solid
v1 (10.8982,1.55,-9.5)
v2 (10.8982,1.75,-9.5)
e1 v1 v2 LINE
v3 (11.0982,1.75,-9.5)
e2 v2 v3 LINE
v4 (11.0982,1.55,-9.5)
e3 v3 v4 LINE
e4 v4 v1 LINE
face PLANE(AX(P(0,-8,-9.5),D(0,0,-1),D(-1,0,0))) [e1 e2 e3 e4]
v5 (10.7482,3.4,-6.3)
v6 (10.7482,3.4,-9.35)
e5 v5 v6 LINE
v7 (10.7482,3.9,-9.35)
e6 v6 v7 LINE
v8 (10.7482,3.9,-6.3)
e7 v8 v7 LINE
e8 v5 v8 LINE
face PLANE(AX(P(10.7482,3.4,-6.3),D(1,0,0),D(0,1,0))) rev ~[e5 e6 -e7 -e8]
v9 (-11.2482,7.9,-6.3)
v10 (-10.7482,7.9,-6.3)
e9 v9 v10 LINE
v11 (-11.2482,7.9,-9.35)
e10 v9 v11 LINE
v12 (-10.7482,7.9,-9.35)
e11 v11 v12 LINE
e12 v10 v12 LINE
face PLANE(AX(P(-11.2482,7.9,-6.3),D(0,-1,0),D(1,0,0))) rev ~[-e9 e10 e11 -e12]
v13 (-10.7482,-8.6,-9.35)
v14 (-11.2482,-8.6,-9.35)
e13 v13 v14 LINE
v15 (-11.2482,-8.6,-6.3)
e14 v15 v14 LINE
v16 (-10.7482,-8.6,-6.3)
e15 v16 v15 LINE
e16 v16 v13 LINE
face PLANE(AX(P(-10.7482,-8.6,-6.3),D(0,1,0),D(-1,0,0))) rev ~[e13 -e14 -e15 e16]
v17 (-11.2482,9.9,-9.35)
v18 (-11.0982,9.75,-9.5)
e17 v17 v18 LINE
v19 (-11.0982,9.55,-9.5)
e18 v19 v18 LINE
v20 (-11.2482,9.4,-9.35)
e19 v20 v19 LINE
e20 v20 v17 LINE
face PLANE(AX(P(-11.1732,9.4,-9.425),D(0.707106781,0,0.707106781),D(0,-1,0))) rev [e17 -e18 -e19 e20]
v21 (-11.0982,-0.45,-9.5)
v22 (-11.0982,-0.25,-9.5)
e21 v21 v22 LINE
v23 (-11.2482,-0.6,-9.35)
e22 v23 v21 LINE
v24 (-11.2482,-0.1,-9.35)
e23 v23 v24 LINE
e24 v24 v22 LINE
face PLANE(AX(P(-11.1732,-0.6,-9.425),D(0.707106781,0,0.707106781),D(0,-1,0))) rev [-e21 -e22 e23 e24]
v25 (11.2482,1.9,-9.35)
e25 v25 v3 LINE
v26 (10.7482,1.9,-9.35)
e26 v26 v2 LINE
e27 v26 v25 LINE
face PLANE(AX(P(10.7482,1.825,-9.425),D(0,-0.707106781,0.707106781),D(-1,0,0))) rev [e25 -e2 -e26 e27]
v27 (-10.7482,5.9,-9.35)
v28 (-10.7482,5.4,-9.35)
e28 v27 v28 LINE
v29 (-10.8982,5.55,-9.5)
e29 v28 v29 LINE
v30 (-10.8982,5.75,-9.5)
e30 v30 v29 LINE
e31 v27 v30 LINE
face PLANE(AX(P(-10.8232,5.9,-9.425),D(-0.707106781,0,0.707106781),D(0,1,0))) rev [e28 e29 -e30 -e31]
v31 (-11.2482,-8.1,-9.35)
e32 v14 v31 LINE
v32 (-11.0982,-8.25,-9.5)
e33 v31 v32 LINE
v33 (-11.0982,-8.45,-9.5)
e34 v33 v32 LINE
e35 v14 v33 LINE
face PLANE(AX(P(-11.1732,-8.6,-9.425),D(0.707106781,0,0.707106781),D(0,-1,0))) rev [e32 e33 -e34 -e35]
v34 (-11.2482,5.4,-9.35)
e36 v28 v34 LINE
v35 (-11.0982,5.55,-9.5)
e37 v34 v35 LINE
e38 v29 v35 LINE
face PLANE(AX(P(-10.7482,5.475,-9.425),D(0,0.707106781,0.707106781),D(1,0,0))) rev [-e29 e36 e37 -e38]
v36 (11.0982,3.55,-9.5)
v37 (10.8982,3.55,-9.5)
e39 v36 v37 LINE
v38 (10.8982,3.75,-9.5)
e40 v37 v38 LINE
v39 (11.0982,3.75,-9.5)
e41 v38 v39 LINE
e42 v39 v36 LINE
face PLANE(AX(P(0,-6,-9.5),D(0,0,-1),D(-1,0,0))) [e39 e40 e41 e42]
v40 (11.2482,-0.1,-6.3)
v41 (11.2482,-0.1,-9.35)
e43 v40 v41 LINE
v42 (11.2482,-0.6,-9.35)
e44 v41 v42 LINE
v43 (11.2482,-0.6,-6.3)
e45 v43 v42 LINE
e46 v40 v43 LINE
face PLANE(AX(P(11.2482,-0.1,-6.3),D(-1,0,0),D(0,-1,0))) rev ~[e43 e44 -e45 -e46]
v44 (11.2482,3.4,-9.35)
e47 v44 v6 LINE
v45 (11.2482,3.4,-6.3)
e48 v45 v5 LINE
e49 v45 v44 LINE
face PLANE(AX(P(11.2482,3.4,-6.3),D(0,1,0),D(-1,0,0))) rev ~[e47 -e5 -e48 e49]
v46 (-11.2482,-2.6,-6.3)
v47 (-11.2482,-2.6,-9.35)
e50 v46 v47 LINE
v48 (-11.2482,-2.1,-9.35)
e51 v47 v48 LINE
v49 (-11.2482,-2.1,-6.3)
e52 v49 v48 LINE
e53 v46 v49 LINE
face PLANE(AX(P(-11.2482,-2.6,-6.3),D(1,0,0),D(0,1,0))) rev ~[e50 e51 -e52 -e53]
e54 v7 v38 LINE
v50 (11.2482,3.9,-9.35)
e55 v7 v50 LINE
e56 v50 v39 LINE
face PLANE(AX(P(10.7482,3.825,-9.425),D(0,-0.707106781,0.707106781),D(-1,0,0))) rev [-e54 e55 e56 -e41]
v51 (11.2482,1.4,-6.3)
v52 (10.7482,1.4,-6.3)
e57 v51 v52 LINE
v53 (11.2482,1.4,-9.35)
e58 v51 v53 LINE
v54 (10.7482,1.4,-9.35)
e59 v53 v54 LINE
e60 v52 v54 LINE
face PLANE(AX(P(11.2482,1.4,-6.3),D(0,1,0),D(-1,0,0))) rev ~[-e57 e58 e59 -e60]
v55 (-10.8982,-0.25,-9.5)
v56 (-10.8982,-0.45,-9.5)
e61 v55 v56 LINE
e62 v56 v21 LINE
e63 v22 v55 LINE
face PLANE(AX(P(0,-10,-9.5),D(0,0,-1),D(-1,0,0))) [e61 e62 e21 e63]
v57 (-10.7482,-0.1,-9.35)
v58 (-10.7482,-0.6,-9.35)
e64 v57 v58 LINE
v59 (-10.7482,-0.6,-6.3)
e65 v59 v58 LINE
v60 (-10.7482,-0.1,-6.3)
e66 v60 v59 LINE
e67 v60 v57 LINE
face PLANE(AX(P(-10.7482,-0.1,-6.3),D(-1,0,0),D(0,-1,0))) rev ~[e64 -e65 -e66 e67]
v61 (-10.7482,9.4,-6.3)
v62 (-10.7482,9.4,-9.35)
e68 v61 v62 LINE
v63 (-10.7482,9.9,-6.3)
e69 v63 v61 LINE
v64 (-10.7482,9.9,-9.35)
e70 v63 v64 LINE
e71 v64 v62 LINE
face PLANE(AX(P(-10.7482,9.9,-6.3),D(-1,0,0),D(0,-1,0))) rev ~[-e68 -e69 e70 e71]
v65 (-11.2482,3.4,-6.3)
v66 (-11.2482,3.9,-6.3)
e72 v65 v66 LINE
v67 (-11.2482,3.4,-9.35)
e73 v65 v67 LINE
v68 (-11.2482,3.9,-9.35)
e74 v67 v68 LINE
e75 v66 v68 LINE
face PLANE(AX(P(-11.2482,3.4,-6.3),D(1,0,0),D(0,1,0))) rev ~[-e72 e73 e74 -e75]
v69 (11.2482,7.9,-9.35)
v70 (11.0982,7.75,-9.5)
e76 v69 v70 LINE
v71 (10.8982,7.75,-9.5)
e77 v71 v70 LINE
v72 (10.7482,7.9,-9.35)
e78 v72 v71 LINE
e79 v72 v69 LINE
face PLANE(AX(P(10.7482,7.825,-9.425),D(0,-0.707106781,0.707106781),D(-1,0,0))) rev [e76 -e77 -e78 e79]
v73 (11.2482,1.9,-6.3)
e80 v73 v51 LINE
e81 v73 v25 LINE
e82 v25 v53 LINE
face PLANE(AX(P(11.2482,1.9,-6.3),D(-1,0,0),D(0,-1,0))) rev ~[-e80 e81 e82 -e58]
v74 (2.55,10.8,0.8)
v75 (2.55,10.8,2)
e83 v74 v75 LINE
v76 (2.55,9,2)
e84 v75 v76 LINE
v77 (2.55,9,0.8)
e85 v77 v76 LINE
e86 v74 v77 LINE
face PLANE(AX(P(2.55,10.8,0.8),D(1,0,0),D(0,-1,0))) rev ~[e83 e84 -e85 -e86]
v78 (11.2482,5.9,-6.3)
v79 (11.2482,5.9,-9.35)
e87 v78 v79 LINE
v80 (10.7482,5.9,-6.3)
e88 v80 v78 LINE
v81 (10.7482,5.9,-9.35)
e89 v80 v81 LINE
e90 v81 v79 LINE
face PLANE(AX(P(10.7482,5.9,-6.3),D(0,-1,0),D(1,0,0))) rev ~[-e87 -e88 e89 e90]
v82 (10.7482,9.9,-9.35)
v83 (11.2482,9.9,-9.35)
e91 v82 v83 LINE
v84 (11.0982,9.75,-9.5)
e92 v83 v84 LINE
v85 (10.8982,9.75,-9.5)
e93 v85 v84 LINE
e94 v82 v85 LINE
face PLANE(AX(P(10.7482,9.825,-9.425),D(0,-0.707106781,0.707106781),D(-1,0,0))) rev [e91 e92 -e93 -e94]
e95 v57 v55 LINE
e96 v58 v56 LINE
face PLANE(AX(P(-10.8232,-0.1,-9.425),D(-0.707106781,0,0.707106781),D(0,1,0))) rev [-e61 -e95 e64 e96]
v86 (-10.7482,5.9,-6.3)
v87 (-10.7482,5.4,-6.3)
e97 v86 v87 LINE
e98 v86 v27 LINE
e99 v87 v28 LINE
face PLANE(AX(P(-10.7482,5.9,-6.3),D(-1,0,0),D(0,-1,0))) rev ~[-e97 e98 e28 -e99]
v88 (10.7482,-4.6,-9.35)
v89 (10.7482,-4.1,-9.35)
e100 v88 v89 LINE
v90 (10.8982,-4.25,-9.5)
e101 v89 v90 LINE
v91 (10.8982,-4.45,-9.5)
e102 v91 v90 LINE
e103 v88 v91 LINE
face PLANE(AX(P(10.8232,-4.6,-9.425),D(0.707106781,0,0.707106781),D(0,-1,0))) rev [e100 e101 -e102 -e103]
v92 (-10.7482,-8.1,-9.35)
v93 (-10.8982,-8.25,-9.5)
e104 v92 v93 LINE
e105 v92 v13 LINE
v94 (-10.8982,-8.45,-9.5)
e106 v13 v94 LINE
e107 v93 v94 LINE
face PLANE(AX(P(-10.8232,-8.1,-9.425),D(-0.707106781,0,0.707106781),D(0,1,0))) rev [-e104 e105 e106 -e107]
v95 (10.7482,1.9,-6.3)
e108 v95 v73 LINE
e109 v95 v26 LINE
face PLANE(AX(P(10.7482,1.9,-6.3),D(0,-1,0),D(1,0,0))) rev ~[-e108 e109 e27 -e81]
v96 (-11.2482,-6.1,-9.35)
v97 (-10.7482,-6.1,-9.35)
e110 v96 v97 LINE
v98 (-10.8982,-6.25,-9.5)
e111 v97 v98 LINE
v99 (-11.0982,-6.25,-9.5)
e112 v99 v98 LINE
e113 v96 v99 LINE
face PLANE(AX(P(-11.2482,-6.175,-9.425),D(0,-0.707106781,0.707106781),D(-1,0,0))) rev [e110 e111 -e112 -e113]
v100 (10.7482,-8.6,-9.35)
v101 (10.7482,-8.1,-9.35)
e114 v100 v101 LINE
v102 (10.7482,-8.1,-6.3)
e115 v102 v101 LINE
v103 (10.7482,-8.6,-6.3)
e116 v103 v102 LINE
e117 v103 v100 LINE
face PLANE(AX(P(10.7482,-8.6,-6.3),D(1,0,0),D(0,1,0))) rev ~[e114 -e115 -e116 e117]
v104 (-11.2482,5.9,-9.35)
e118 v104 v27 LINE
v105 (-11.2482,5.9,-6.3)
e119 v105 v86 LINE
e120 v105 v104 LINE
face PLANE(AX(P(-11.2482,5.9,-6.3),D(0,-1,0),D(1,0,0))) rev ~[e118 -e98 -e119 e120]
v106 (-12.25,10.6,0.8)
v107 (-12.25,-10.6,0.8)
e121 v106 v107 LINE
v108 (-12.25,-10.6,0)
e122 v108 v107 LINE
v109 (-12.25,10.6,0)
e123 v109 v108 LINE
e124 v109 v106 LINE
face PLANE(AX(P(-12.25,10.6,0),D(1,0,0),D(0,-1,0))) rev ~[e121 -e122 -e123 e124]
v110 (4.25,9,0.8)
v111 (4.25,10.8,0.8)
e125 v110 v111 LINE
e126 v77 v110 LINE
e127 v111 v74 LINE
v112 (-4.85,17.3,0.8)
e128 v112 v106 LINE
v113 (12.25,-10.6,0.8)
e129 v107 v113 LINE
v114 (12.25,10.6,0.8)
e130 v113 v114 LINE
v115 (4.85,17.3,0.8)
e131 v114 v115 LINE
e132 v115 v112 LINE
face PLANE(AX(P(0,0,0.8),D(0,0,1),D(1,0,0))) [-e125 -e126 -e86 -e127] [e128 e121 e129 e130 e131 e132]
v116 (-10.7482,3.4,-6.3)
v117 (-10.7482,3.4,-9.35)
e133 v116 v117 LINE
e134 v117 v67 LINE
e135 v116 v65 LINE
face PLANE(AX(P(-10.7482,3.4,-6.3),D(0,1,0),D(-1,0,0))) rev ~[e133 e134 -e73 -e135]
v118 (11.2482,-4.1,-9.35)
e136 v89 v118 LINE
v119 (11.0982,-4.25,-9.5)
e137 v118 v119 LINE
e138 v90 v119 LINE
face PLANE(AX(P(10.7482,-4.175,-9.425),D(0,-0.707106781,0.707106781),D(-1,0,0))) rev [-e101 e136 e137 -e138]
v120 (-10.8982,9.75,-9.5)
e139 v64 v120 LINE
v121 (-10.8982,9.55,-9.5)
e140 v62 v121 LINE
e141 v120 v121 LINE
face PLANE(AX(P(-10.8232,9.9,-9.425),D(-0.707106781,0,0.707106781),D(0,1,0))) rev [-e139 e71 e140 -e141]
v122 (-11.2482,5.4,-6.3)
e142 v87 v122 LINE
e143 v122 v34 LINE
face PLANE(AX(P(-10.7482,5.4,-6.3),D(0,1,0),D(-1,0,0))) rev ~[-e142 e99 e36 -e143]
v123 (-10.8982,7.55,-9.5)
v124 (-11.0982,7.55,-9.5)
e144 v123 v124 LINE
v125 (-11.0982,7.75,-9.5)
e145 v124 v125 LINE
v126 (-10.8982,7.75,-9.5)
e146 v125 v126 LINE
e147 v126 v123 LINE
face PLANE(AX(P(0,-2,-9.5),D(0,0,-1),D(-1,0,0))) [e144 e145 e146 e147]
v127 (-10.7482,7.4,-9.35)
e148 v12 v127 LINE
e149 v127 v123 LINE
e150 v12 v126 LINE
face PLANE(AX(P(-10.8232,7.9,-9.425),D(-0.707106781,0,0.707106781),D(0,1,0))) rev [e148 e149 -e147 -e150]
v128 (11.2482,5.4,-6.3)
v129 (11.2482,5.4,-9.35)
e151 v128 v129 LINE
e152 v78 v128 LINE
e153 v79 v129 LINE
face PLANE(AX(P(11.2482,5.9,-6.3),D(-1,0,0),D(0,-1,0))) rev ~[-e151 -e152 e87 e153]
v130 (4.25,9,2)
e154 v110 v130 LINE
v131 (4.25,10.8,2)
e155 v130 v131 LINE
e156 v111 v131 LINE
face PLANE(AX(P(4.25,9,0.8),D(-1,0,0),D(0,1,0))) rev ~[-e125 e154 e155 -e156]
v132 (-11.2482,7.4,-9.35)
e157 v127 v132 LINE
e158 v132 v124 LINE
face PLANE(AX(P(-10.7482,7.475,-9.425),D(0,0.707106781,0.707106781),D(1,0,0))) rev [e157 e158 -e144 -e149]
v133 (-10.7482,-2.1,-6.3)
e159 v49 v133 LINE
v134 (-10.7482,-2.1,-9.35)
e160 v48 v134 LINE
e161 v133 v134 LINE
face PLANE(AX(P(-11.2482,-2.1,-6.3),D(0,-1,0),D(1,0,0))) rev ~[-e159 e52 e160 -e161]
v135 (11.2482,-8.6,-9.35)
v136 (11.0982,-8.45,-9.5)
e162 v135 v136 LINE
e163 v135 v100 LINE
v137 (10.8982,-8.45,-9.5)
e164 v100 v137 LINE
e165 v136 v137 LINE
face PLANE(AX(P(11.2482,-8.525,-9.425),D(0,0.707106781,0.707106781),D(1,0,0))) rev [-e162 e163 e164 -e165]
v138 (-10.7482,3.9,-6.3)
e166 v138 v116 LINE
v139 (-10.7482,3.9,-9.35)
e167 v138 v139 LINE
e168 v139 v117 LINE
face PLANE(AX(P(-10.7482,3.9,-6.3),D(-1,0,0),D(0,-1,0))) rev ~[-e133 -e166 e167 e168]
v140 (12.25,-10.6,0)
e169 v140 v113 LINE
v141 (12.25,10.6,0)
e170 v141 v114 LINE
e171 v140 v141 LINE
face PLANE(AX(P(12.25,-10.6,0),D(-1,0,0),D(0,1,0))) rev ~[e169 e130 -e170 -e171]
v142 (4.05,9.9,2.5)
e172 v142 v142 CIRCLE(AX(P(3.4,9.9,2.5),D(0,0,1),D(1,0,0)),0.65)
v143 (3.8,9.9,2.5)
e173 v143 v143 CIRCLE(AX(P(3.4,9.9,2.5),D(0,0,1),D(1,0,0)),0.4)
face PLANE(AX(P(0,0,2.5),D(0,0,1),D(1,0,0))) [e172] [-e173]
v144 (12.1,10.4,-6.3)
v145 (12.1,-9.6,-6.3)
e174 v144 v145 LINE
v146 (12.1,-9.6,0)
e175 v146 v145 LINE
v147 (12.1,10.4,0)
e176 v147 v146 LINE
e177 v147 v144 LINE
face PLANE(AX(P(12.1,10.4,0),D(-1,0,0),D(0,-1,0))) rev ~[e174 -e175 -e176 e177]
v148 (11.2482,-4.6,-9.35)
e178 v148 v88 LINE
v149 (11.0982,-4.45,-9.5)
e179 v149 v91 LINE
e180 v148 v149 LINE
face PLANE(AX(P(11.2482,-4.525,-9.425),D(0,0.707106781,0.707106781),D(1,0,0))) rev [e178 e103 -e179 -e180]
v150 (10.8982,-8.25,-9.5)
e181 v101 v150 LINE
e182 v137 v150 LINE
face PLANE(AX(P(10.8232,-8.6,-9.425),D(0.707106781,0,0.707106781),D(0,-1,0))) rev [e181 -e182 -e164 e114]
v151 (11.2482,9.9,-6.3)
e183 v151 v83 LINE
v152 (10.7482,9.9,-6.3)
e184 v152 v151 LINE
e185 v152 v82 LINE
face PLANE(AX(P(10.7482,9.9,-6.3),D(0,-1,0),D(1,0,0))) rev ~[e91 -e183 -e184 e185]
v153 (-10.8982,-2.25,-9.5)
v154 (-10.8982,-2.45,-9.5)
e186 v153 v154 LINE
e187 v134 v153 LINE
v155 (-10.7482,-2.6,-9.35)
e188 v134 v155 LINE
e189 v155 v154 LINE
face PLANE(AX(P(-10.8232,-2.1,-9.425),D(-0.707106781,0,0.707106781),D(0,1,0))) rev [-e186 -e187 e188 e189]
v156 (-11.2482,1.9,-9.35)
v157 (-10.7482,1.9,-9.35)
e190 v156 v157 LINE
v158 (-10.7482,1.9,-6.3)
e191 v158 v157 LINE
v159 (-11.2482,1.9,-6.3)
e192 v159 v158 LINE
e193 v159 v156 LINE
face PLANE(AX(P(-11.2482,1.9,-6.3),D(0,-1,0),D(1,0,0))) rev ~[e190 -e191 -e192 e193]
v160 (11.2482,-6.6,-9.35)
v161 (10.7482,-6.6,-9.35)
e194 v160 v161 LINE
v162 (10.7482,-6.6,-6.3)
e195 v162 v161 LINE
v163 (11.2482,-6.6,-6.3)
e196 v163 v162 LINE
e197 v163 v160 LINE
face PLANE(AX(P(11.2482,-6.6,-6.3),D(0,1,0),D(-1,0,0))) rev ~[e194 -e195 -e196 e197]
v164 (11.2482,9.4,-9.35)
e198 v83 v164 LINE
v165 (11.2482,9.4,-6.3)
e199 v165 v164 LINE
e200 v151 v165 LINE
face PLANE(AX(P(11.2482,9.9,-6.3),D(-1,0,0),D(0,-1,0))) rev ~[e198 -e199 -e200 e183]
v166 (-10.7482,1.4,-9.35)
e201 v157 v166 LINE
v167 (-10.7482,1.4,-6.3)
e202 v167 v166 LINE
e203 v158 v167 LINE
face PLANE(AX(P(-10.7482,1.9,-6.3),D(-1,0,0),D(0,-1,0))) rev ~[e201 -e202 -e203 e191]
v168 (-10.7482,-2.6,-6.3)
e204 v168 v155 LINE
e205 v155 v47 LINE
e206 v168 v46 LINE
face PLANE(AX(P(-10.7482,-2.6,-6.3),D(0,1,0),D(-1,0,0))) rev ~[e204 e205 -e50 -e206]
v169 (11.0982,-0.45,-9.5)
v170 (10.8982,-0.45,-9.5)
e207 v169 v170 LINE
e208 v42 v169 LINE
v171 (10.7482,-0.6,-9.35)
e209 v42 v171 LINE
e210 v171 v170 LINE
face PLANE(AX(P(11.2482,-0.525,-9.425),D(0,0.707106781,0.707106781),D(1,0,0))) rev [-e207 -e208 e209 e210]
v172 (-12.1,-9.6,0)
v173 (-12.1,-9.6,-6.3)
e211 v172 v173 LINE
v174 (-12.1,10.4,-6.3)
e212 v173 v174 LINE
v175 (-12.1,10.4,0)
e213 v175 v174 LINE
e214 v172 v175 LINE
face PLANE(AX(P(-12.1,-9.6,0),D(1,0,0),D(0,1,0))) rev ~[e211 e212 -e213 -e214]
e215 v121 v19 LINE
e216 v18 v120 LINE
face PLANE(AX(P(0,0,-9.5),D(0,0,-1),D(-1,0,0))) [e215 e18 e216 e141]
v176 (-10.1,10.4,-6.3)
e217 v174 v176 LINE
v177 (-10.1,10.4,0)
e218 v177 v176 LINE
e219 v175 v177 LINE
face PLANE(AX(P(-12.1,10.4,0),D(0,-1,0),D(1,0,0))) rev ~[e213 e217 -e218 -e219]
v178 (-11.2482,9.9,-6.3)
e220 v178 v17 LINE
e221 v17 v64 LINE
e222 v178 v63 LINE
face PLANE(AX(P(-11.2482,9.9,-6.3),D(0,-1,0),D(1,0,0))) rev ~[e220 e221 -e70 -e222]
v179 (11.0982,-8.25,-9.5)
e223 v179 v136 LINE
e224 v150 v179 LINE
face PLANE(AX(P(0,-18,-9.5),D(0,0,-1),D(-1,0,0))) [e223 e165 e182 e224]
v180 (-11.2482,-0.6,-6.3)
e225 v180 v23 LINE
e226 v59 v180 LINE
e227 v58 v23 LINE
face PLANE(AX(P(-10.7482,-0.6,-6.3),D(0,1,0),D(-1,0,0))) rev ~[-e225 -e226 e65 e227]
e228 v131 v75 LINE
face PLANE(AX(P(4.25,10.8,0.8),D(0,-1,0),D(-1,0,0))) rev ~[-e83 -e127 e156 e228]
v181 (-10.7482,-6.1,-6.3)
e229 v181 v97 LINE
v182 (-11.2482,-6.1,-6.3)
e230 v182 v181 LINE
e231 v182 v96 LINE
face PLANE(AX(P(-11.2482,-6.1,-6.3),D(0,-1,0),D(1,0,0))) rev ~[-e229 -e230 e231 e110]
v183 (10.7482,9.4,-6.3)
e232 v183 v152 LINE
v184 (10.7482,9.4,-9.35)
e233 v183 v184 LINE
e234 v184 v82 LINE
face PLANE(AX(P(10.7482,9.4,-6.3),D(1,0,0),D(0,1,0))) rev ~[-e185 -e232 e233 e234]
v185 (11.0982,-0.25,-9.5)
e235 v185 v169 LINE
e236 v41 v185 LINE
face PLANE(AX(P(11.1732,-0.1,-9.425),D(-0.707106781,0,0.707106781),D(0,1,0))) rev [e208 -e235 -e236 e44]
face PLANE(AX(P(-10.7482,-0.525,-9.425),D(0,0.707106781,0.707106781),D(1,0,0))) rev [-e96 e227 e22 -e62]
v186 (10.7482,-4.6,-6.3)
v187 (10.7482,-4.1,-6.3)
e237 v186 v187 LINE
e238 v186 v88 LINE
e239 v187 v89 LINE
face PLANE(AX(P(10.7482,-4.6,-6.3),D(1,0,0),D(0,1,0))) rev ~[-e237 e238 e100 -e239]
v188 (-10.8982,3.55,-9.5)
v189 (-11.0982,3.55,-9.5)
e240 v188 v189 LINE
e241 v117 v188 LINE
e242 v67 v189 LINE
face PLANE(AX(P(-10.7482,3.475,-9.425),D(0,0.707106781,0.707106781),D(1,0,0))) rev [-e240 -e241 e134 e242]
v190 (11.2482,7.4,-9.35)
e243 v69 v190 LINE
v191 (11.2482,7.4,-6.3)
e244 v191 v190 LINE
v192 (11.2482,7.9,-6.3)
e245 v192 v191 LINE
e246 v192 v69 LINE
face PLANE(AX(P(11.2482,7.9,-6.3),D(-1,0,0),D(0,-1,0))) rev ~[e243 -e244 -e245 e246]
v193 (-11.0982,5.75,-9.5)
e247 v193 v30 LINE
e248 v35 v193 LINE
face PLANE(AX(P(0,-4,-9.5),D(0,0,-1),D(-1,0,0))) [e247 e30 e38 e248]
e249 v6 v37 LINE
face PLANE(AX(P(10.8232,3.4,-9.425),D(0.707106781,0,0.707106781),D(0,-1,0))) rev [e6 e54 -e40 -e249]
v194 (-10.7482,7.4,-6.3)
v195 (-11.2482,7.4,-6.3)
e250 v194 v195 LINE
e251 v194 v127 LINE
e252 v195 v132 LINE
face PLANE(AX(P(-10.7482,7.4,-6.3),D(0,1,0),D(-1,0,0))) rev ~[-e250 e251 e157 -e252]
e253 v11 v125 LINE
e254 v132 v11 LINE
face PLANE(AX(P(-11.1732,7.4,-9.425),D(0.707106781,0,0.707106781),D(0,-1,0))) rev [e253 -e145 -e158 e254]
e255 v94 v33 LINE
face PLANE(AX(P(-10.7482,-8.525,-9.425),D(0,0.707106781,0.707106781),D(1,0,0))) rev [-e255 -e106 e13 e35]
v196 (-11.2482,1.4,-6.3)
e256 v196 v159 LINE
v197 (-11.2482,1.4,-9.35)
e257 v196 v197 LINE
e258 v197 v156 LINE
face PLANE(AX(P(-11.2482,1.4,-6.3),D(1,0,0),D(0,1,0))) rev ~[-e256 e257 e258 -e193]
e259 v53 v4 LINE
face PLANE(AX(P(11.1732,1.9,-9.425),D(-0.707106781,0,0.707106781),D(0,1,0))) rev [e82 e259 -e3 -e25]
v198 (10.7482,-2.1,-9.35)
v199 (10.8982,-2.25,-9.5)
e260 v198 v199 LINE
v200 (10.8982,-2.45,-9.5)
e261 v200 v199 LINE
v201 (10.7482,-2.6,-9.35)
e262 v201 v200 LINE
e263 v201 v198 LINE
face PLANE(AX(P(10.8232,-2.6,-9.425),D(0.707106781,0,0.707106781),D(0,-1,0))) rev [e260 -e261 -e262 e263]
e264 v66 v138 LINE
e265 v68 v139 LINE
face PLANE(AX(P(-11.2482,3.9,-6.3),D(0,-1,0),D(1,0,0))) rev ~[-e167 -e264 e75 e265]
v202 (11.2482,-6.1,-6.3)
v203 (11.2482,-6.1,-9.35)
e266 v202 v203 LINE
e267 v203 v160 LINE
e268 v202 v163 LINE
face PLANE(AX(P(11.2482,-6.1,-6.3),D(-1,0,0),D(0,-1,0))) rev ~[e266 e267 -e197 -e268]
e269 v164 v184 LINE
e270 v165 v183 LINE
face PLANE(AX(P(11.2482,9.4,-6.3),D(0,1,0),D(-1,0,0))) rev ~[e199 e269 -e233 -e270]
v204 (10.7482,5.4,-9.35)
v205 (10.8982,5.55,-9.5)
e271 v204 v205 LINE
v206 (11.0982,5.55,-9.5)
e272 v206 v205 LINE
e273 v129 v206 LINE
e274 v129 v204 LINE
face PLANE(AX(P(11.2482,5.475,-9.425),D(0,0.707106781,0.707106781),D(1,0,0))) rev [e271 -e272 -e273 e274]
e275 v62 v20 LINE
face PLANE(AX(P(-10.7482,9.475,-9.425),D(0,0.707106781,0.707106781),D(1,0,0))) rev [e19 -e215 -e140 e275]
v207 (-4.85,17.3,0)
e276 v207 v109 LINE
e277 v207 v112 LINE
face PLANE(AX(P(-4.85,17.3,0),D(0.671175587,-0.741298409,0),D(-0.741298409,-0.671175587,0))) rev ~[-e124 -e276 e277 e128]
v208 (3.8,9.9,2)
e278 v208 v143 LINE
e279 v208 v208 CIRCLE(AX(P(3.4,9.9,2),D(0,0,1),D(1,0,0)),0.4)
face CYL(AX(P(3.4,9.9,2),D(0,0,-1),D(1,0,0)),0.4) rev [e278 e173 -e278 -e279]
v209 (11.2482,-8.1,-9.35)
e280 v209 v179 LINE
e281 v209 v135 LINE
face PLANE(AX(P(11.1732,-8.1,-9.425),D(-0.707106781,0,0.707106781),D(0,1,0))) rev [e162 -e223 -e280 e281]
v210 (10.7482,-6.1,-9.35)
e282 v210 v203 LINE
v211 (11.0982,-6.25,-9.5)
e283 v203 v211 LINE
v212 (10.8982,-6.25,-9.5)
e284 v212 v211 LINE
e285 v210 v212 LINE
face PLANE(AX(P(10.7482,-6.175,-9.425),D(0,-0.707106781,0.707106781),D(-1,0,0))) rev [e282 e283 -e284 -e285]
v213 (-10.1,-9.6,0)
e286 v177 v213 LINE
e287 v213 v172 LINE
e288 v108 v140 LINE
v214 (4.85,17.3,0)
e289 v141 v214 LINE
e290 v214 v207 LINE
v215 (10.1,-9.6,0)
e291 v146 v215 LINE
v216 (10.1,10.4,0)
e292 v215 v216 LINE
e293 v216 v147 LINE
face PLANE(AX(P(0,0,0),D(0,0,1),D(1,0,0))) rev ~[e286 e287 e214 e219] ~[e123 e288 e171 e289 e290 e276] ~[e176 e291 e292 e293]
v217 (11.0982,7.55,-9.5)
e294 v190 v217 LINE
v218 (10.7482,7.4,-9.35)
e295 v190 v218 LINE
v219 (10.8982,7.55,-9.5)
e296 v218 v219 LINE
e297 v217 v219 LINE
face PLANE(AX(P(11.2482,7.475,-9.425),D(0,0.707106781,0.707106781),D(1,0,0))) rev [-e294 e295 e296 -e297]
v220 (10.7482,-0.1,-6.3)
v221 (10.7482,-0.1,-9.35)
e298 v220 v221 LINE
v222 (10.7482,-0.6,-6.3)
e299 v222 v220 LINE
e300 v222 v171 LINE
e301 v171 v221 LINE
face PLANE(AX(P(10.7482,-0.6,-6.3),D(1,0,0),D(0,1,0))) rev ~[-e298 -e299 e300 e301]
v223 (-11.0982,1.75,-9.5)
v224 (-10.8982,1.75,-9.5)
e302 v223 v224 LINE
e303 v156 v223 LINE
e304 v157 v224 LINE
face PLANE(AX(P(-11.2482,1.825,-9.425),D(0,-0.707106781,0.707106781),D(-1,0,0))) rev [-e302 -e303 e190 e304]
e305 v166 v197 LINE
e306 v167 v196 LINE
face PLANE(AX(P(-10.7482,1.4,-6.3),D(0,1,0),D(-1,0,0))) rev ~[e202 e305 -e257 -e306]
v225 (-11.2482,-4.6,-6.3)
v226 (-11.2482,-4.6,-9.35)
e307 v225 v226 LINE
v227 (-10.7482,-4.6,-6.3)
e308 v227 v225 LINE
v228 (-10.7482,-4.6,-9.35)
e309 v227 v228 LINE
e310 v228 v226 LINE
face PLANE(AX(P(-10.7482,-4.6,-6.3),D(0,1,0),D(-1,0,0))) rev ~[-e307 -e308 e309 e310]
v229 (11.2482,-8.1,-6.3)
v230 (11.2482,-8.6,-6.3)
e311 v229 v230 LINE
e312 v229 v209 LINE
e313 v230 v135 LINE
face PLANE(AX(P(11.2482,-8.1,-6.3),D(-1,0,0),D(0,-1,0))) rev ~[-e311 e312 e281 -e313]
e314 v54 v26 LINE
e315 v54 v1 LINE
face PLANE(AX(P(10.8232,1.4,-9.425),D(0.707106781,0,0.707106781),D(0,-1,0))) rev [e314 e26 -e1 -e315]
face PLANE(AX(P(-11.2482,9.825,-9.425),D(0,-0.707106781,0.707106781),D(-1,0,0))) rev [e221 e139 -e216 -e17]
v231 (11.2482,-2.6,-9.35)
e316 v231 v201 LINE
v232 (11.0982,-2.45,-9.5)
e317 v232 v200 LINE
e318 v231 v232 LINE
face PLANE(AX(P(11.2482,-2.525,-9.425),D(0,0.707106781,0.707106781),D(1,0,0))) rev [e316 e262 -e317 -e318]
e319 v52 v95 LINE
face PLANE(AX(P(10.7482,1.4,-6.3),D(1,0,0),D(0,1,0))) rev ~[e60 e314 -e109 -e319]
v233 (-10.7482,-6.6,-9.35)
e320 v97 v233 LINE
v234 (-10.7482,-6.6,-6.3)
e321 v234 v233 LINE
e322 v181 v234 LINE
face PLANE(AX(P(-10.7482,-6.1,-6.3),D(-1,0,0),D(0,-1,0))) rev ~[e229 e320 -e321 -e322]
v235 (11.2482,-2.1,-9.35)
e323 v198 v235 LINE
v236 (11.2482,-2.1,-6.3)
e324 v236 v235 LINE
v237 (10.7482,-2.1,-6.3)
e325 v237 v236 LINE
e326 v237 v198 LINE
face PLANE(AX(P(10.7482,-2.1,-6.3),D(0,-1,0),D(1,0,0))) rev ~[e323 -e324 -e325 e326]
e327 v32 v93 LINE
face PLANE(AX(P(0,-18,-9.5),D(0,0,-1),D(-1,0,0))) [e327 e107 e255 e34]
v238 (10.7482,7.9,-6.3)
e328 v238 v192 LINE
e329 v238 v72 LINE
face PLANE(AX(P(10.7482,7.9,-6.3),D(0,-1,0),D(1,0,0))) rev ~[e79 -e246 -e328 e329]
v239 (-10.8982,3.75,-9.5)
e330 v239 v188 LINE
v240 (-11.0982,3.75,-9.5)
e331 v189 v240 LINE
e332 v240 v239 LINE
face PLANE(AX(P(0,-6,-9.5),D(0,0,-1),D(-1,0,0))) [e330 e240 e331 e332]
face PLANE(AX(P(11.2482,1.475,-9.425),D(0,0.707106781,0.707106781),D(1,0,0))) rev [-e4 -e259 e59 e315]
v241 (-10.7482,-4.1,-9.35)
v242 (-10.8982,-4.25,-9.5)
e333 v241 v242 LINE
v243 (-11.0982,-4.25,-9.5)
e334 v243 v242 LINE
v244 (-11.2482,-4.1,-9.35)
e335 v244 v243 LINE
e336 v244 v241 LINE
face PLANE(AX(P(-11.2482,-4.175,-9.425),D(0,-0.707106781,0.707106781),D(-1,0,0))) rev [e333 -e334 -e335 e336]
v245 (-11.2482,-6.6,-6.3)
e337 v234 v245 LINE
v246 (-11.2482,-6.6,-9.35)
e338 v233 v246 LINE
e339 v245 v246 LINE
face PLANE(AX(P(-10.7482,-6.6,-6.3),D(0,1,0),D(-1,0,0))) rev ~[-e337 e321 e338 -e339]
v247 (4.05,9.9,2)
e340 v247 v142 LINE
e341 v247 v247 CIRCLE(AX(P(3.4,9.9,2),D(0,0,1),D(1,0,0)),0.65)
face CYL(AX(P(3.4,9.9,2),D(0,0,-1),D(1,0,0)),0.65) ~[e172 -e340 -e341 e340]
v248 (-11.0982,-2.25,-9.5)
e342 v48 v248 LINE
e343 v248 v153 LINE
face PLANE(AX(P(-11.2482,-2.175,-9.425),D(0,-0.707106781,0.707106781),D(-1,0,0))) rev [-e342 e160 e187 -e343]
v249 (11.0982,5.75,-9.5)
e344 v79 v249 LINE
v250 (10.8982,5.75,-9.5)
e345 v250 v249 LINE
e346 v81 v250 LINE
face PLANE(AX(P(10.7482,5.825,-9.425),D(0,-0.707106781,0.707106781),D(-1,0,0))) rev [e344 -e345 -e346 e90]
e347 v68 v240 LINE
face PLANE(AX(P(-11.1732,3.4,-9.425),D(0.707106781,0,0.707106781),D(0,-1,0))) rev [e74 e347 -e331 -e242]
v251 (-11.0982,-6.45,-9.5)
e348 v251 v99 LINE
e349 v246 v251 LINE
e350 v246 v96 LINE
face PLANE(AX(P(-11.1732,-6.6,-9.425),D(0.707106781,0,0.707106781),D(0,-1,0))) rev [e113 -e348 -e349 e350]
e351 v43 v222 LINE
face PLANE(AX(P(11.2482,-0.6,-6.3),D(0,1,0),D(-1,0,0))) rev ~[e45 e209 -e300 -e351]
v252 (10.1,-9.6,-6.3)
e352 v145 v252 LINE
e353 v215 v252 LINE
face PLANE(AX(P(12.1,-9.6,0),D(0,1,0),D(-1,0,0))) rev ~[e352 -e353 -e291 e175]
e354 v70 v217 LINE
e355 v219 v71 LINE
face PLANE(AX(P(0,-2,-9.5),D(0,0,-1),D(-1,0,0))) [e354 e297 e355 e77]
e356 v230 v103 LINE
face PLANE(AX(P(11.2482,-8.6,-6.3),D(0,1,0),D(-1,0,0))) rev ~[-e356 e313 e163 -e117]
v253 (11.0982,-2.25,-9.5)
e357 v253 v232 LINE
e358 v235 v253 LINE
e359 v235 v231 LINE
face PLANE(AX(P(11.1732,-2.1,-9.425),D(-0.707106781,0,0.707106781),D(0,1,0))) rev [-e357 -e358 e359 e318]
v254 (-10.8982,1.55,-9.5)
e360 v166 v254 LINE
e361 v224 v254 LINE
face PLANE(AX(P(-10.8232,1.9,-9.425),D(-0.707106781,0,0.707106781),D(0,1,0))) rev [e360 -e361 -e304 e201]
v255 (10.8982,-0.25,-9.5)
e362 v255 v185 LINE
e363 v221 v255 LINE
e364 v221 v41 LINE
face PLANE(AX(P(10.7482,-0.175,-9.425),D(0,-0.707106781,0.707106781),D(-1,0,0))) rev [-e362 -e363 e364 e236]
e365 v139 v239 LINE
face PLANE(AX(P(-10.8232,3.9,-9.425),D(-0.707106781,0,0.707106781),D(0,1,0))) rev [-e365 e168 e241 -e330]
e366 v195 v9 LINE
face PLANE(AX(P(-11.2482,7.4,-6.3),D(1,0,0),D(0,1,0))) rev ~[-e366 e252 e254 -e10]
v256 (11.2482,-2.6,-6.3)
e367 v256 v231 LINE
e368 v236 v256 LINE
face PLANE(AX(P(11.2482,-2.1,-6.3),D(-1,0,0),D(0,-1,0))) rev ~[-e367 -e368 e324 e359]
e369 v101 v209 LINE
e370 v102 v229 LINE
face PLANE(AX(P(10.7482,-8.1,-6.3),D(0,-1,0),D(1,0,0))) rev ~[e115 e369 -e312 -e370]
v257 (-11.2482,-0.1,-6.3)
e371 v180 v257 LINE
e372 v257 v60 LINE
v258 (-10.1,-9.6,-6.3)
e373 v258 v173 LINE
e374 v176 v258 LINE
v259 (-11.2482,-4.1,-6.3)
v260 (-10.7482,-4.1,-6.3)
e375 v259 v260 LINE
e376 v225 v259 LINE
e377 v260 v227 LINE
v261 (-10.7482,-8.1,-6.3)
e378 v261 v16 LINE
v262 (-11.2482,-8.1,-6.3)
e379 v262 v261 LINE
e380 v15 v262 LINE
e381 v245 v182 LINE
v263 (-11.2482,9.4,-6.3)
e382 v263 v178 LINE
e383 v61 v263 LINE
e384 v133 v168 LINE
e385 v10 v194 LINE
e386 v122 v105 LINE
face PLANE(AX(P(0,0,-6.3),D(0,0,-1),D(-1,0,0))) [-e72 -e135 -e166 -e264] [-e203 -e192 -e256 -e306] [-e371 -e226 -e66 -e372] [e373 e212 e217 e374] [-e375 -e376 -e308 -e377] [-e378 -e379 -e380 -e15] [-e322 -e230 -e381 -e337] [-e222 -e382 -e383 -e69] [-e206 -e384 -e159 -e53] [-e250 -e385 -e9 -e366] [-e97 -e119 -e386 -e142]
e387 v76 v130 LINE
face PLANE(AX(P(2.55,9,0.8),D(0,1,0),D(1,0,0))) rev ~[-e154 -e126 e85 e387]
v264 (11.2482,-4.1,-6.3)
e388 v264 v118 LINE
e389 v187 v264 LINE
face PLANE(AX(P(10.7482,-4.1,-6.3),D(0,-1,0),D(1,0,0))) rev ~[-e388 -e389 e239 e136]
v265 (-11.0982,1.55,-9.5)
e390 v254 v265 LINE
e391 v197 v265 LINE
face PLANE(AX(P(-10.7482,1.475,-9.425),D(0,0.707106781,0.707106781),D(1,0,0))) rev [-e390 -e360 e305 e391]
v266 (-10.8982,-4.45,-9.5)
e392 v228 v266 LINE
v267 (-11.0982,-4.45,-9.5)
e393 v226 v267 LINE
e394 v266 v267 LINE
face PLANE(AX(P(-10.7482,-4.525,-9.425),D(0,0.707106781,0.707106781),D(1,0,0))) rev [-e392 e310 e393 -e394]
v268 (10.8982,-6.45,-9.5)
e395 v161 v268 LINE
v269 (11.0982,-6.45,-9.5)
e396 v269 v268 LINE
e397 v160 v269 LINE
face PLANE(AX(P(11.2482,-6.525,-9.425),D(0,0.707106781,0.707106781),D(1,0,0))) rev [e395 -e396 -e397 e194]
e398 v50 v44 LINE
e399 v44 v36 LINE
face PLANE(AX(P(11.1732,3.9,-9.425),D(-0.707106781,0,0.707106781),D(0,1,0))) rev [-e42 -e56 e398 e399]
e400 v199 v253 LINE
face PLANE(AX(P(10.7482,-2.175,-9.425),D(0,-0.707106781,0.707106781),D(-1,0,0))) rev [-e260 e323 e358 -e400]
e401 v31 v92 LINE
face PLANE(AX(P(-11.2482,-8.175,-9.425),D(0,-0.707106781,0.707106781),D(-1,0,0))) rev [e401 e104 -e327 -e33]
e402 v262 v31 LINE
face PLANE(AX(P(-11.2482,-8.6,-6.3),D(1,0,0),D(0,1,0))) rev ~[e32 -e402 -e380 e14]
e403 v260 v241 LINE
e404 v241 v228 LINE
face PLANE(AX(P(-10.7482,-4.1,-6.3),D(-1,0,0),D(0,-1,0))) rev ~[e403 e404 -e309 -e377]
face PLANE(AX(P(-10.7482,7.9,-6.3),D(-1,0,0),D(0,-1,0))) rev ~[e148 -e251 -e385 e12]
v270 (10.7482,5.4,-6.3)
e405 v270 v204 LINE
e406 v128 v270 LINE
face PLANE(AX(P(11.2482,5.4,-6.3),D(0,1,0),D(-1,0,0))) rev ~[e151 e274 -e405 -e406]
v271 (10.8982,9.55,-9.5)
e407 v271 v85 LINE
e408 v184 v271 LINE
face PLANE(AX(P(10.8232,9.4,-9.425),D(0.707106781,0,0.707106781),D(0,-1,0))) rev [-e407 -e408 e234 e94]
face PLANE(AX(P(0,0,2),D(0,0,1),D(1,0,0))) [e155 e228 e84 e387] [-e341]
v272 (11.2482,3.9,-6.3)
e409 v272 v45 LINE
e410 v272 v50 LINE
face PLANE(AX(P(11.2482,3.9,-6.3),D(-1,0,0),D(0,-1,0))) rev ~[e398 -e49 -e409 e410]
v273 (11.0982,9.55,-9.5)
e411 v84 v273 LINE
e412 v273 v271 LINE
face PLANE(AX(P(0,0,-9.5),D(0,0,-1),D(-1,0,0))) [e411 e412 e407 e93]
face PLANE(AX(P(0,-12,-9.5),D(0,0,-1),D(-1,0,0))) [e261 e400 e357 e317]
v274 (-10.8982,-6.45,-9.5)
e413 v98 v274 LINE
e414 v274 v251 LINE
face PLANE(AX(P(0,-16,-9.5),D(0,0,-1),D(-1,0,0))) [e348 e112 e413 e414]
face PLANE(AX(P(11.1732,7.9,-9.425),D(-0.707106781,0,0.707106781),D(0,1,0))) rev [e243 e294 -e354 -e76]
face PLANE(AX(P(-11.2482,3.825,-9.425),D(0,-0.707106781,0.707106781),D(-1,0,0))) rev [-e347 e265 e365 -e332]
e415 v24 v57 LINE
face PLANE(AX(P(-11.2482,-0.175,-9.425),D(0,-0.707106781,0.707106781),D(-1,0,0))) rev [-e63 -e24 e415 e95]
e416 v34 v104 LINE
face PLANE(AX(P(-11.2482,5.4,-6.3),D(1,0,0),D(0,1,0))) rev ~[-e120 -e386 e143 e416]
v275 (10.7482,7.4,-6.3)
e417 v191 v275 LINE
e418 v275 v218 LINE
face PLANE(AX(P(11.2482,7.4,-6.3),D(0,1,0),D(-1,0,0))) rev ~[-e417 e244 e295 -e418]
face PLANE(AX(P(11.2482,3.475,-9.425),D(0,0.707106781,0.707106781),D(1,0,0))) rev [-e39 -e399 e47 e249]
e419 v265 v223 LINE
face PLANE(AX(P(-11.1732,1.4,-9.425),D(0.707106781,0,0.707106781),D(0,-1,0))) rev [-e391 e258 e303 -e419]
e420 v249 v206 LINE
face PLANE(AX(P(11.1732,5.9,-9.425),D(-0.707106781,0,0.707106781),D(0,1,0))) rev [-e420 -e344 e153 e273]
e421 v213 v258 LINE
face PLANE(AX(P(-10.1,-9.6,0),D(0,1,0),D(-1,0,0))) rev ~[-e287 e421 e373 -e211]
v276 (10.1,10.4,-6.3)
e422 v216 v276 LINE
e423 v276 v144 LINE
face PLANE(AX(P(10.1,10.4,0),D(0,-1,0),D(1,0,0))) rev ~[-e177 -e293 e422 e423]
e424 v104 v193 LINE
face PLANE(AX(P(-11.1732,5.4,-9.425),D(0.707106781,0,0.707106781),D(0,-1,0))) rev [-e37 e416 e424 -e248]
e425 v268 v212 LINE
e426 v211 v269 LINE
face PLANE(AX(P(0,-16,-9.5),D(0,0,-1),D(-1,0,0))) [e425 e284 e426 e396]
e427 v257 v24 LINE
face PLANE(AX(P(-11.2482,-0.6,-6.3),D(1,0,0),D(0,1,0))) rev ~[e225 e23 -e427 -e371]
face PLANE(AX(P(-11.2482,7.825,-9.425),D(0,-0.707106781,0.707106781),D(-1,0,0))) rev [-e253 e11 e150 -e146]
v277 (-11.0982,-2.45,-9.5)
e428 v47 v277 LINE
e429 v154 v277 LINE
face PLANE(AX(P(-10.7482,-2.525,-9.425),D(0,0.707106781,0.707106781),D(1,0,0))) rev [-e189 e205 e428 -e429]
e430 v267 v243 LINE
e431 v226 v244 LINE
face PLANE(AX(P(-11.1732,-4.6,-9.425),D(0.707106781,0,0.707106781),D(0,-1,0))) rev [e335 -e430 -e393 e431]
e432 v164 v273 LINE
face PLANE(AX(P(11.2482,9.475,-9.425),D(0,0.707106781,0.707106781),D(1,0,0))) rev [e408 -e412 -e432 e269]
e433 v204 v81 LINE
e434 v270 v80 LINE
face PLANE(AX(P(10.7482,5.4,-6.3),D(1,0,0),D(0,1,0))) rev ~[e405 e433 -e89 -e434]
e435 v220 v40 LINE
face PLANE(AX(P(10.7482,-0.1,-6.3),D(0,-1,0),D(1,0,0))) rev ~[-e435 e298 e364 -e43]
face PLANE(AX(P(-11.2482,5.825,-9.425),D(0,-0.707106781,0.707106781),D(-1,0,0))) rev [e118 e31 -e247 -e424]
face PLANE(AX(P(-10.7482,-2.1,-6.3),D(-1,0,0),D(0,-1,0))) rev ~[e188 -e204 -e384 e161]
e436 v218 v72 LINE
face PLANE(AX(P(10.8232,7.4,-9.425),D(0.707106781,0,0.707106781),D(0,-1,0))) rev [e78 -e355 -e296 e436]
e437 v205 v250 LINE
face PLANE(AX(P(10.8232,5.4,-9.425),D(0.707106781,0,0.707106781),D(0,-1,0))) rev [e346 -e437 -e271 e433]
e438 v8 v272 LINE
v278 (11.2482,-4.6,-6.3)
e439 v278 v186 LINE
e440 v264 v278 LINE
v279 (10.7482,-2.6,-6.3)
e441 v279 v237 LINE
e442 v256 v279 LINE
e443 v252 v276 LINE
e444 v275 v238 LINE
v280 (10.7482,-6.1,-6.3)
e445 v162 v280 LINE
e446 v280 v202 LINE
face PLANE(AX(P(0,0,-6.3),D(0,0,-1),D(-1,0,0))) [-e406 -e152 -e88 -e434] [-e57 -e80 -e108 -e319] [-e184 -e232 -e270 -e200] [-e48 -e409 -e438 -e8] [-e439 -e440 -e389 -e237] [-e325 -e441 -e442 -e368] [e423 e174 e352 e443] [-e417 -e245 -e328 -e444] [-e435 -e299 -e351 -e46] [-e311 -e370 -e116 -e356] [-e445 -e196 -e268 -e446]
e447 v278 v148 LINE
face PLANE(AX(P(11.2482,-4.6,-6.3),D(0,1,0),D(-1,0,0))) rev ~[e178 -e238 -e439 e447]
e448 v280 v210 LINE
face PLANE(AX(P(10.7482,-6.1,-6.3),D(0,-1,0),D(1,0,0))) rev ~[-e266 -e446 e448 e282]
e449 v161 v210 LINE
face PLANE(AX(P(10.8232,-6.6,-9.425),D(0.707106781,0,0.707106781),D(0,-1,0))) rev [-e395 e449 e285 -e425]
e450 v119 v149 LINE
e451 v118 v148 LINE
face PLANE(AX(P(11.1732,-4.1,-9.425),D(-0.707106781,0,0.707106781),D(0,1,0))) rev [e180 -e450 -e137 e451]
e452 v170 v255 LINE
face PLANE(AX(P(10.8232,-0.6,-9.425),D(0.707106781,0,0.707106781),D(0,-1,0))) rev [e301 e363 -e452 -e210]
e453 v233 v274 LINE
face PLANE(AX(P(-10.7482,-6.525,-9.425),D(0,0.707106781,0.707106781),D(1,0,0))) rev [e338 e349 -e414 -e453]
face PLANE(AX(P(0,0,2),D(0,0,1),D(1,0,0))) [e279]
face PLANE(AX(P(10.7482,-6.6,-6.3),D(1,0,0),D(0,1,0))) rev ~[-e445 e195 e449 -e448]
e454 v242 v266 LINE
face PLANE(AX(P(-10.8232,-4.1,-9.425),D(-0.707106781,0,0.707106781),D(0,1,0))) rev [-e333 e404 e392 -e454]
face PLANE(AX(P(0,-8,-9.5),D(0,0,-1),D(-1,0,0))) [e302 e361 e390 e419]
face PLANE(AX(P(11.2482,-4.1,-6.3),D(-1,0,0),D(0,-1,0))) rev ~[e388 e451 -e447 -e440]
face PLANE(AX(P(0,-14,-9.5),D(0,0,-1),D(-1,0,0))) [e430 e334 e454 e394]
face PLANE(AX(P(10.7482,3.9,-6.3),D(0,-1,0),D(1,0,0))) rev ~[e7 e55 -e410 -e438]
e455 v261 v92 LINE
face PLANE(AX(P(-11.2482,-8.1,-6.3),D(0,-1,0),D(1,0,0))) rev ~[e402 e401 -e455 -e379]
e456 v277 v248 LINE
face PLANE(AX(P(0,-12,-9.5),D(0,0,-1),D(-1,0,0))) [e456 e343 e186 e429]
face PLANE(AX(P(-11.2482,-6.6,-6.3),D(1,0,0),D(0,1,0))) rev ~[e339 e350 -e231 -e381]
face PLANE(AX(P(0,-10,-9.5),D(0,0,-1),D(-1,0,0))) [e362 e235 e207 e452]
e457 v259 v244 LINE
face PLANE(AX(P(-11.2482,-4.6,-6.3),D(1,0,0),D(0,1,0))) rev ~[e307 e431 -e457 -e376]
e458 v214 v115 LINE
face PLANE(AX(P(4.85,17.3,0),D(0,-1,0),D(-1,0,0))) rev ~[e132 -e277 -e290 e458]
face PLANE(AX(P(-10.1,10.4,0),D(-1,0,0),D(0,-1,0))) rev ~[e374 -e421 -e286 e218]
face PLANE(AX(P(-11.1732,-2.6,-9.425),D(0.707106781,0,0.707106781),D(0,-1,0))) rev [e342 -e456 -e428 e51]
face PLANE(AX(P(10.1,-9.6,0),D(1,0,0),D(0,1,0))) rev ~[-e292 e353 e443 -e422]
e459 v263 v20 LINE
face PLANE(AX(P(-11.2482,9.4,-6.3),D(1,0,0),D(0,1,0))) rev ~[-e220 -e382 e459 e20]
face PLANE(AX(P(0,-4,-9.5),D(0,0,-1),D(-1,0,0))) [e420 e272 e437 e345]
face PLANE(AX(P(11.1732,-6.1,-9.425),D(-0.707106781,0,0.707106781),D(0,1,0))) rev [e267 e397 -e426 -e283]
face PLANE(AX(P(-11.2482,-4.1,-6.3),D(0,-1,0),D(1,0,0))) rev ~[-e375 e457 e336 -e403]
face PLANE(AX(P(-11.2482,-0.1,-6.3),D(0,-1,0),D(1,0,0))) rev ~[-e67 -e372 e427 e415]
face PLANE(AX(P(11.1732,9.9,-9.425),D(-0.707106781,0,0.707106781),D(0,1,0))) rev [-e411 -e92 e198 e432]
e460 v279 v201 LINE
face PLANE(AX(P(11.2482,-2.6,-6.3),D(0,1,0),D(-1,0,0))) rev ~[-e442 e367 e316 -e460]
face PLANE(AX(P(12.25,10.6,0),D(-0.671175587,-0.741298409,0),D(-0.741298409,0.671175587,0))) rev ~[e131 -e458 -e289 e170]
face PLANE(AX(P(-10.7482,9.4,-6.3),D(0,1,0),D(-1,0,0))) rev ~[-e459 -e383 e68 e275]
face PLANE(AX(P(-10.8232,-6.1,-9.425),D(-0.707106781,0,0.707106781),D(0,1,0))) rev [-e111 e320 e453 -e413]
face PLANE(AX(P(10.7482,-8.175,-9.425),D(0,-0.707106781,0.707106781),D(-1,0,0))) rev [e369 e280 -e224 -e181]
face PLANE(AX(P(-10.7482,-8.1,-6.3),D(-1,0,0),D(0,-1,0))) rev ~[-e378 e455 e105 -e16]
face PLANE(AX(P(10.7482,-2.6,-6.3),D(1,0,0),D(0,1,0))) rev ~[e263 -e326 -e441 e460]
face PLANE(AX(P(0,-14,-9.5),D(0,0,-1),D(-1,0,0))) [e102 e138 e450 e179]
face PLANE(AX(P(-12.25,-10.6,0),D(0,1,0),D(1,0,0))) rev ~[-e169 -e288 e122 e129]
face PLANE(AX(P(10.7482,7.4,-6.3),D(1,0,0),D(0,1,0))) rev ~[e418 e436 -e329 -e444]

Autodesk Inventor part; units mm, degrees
ref_plane "YZ Plane" through (0, 0, 0) normal (1, 0, 0) x (0, 1, 0)
ref_plane "XZ Plane" through (0, 0, 0) normal (0, 1, 0) x (-1, 0, 0)
ref_plane "XY Plane" through (0, 0, 0) normal (0, 0, 1) x (1, 0, 0)
sketch "Esquisse1" plane through (0, 0, 0) normal (0, 0, 1) x (1, 0, 0)
  line L0 (-12.25, -10.6) -> (12.25, -10.6)
  line L1 (12.25, -10.6) -> (12.25, 10.6)
  line L2 (12.25, 10.6) -> (4.85, 17.3)
  line L3 (4.85, 17.3) -> (-4.85, 17.3)
  line L4 (-4.85, 17.3) -> (-12.25, 10.6)
  line L5 (-12.25, 10.6) -> (-12.25, -10.6)
  point P0 (0, 0)
  dimension "d0" = 24.5
  dimension "d1" = 27.9
  dimension "d2" = 21.2
  dimension "d3" = 12.25
  dimension "d4" = 10.6
  dimension "d6" = 9.7
extrude "Extrusion1" add sketch "Esquisse1" along normal blind 0.8
sketch "Esquisse2" plane through (0, 0, 0) normal (0, 0, -1) x (-1, 0, 0)
  line L0 (12.1, 10.4) -> (10.1, 10.4)
  line L1 (10.1, 10.4) -> (10.1, -9.6)
  line L2 (10.1, -9.6) -> (12.1, -9.6)
  line L3 (12.1, -9.6) -> (12.1, 10.4)
  line L4 (-10.1, 10.4) -> (-12.1, 10.4)
  line L5 (-12.1, 10.4) -> (-12.1, -9.6)
  line L6 (-12.1, -9.6) -> (-10.1, -9.6)
  line L7 (-10.1, -9.6) -> (-10.1, 10.4)
  line L8 (12.25, -10.6) -> (-12.25, -10.6) projected
  line L9 (-12.25, -10.6) -> (-12.25, 10.6) projected
  point P0 (0, 0)
  dimension "d9" = 2
  dimension "d10" = 20.2
  dimension "d11" = 20
  dimension "d12" = 1
  dimension "d13" = 24.2
  dimension "d14" = 0.15
  dimension "d15" = 24.5
extrude "Extrusion2" add sketch "Esquisse2" along normal blind 6.3
sketch "Esquisse3" plane through (0, 0, -6.3) normal (0, 0, -1) x (-1, 0, 0)
  line L0 (11.2482, 9.9) -> (10.7482, 9.9)
  line L1 (10.7482, 9.9) -> (10.7482, 9.4)
  line L2 (10.7482, 9.4) -> (11.2482, 9.4)
  line L3 (11.2482, 9.4) -> (11.2482, 9.9)
  line L4 (-10.7482, 9.9) -> (-11.2482, 9.9)
  line L5 (-11.2482, 9.9) -> (-11.2482, 9.4)
  line L6 (-11.2482, 9.4) -> (-10.7482, 9.4)
  line L7 (-10.7482, 9.4) -> (-10.7482, 9.9)
  line L8 (10.1, 10.4) -> (10.1, -9.6) projected
  line L9 (12.1, -9.6) -> (12.1, 10.4) projected
  line L10 (-12.25, -10.6) -> (-12.25, 10.6) projected
  line L11 (12.25, 10.6) -> (12.25, -10.6) projected
  line L12 (12.1, 10.4) -> (10.1, 10.4) projected
  point P0 (0, 0)
  dimension "d18" = 2
  dimension "d19" = 21.4964
  dimension "d20" = 0.5
  dimension "d21" = 24.5
  dimension "d22" = 1.5018
  dimension "d23" = 0.5
extrude "Extrusion3" add sketch "Esquisse3" along normal blind 3.2
chamfer "Chanfrein1" distance 0.15 angle 45 4 edges at (-10.7482, 9.65, -9.5) (-10.9982, 9.9, -9.5) (-11.2482, 9.65, -9.5) (-10.9982, 9.4, -9.5)
chamfer "Chanfrein2" distance 0.15 angle 45 4 edges at (10.9982, 9.9, -9.5) (10.9982, 9.4, -9.5) (11.2482, 9.65, -9.5) (10.7482, 9.65, -9.5)
pattern_linear "Réseau rectangulaire1" count 10 spacing 2 along (0, -1, 0) of "Extrusion3", "Chanfrein1", "Chanfrein2"
sketch "Esquisse4" plane through (0, 0, 0.8) normal (0, 0, 1) x (1, 0, 0)
  line L0 (2.55, 9) -> (4.25, 9)
  line L1 (4.25, 9) -> (4.25, 10.8)
  line L2 (4.25, 10.8) -> (2.55, 10.8)
  line L3 (2.55, 10.8) -> (2.55, 9)
  line L4 (4.85, 17.3) -> (-4.85, 17.3) projected
  line L5 (12.25, -10.6) -> (12.25, 10.6) projected
  point P0 (0, 0)
  dimension "d35" = 1.8
  dimension "d36" = 1.7
  dimension "d37" = 6.5
  dimension "d38" = 8
extrude "Extrusion4" add sketch "Esquisse4" along normal blind 1.2
sketch "Esquisse5" plane through (0, 0, 2) normal (0, 0, 1) x (1, 0, 0)
  circle A0 centre (3.4, 9.9) radius 0.65
  circle A1 centre (3.4, 9.9) radius 0.4
  line L0 (2.55, 10.8) -> (2.55, 9) projected
  line L1 (2.55, 9) -> (4.25, 9) projected
  point P0 (0, 0)
  dimension "d41" = 1.3
  dimension "d42" = 0.8
  dimension "d43" = 0.85
  dimension "d44" = 0.9
extrude "Extrusion5" add sketch "Esquisse5" along normal blind 0.5
equation "\"d3\" = 0.5 * d0"
equation "\"d4\" = 0.5 * d2"
equation "\"d14\" = -0.5 * d13 + 0.5 * d15"
equation "\"d22\" = -0.5 * d19 + 0.5 * d21"
properties part number "Xbee"
